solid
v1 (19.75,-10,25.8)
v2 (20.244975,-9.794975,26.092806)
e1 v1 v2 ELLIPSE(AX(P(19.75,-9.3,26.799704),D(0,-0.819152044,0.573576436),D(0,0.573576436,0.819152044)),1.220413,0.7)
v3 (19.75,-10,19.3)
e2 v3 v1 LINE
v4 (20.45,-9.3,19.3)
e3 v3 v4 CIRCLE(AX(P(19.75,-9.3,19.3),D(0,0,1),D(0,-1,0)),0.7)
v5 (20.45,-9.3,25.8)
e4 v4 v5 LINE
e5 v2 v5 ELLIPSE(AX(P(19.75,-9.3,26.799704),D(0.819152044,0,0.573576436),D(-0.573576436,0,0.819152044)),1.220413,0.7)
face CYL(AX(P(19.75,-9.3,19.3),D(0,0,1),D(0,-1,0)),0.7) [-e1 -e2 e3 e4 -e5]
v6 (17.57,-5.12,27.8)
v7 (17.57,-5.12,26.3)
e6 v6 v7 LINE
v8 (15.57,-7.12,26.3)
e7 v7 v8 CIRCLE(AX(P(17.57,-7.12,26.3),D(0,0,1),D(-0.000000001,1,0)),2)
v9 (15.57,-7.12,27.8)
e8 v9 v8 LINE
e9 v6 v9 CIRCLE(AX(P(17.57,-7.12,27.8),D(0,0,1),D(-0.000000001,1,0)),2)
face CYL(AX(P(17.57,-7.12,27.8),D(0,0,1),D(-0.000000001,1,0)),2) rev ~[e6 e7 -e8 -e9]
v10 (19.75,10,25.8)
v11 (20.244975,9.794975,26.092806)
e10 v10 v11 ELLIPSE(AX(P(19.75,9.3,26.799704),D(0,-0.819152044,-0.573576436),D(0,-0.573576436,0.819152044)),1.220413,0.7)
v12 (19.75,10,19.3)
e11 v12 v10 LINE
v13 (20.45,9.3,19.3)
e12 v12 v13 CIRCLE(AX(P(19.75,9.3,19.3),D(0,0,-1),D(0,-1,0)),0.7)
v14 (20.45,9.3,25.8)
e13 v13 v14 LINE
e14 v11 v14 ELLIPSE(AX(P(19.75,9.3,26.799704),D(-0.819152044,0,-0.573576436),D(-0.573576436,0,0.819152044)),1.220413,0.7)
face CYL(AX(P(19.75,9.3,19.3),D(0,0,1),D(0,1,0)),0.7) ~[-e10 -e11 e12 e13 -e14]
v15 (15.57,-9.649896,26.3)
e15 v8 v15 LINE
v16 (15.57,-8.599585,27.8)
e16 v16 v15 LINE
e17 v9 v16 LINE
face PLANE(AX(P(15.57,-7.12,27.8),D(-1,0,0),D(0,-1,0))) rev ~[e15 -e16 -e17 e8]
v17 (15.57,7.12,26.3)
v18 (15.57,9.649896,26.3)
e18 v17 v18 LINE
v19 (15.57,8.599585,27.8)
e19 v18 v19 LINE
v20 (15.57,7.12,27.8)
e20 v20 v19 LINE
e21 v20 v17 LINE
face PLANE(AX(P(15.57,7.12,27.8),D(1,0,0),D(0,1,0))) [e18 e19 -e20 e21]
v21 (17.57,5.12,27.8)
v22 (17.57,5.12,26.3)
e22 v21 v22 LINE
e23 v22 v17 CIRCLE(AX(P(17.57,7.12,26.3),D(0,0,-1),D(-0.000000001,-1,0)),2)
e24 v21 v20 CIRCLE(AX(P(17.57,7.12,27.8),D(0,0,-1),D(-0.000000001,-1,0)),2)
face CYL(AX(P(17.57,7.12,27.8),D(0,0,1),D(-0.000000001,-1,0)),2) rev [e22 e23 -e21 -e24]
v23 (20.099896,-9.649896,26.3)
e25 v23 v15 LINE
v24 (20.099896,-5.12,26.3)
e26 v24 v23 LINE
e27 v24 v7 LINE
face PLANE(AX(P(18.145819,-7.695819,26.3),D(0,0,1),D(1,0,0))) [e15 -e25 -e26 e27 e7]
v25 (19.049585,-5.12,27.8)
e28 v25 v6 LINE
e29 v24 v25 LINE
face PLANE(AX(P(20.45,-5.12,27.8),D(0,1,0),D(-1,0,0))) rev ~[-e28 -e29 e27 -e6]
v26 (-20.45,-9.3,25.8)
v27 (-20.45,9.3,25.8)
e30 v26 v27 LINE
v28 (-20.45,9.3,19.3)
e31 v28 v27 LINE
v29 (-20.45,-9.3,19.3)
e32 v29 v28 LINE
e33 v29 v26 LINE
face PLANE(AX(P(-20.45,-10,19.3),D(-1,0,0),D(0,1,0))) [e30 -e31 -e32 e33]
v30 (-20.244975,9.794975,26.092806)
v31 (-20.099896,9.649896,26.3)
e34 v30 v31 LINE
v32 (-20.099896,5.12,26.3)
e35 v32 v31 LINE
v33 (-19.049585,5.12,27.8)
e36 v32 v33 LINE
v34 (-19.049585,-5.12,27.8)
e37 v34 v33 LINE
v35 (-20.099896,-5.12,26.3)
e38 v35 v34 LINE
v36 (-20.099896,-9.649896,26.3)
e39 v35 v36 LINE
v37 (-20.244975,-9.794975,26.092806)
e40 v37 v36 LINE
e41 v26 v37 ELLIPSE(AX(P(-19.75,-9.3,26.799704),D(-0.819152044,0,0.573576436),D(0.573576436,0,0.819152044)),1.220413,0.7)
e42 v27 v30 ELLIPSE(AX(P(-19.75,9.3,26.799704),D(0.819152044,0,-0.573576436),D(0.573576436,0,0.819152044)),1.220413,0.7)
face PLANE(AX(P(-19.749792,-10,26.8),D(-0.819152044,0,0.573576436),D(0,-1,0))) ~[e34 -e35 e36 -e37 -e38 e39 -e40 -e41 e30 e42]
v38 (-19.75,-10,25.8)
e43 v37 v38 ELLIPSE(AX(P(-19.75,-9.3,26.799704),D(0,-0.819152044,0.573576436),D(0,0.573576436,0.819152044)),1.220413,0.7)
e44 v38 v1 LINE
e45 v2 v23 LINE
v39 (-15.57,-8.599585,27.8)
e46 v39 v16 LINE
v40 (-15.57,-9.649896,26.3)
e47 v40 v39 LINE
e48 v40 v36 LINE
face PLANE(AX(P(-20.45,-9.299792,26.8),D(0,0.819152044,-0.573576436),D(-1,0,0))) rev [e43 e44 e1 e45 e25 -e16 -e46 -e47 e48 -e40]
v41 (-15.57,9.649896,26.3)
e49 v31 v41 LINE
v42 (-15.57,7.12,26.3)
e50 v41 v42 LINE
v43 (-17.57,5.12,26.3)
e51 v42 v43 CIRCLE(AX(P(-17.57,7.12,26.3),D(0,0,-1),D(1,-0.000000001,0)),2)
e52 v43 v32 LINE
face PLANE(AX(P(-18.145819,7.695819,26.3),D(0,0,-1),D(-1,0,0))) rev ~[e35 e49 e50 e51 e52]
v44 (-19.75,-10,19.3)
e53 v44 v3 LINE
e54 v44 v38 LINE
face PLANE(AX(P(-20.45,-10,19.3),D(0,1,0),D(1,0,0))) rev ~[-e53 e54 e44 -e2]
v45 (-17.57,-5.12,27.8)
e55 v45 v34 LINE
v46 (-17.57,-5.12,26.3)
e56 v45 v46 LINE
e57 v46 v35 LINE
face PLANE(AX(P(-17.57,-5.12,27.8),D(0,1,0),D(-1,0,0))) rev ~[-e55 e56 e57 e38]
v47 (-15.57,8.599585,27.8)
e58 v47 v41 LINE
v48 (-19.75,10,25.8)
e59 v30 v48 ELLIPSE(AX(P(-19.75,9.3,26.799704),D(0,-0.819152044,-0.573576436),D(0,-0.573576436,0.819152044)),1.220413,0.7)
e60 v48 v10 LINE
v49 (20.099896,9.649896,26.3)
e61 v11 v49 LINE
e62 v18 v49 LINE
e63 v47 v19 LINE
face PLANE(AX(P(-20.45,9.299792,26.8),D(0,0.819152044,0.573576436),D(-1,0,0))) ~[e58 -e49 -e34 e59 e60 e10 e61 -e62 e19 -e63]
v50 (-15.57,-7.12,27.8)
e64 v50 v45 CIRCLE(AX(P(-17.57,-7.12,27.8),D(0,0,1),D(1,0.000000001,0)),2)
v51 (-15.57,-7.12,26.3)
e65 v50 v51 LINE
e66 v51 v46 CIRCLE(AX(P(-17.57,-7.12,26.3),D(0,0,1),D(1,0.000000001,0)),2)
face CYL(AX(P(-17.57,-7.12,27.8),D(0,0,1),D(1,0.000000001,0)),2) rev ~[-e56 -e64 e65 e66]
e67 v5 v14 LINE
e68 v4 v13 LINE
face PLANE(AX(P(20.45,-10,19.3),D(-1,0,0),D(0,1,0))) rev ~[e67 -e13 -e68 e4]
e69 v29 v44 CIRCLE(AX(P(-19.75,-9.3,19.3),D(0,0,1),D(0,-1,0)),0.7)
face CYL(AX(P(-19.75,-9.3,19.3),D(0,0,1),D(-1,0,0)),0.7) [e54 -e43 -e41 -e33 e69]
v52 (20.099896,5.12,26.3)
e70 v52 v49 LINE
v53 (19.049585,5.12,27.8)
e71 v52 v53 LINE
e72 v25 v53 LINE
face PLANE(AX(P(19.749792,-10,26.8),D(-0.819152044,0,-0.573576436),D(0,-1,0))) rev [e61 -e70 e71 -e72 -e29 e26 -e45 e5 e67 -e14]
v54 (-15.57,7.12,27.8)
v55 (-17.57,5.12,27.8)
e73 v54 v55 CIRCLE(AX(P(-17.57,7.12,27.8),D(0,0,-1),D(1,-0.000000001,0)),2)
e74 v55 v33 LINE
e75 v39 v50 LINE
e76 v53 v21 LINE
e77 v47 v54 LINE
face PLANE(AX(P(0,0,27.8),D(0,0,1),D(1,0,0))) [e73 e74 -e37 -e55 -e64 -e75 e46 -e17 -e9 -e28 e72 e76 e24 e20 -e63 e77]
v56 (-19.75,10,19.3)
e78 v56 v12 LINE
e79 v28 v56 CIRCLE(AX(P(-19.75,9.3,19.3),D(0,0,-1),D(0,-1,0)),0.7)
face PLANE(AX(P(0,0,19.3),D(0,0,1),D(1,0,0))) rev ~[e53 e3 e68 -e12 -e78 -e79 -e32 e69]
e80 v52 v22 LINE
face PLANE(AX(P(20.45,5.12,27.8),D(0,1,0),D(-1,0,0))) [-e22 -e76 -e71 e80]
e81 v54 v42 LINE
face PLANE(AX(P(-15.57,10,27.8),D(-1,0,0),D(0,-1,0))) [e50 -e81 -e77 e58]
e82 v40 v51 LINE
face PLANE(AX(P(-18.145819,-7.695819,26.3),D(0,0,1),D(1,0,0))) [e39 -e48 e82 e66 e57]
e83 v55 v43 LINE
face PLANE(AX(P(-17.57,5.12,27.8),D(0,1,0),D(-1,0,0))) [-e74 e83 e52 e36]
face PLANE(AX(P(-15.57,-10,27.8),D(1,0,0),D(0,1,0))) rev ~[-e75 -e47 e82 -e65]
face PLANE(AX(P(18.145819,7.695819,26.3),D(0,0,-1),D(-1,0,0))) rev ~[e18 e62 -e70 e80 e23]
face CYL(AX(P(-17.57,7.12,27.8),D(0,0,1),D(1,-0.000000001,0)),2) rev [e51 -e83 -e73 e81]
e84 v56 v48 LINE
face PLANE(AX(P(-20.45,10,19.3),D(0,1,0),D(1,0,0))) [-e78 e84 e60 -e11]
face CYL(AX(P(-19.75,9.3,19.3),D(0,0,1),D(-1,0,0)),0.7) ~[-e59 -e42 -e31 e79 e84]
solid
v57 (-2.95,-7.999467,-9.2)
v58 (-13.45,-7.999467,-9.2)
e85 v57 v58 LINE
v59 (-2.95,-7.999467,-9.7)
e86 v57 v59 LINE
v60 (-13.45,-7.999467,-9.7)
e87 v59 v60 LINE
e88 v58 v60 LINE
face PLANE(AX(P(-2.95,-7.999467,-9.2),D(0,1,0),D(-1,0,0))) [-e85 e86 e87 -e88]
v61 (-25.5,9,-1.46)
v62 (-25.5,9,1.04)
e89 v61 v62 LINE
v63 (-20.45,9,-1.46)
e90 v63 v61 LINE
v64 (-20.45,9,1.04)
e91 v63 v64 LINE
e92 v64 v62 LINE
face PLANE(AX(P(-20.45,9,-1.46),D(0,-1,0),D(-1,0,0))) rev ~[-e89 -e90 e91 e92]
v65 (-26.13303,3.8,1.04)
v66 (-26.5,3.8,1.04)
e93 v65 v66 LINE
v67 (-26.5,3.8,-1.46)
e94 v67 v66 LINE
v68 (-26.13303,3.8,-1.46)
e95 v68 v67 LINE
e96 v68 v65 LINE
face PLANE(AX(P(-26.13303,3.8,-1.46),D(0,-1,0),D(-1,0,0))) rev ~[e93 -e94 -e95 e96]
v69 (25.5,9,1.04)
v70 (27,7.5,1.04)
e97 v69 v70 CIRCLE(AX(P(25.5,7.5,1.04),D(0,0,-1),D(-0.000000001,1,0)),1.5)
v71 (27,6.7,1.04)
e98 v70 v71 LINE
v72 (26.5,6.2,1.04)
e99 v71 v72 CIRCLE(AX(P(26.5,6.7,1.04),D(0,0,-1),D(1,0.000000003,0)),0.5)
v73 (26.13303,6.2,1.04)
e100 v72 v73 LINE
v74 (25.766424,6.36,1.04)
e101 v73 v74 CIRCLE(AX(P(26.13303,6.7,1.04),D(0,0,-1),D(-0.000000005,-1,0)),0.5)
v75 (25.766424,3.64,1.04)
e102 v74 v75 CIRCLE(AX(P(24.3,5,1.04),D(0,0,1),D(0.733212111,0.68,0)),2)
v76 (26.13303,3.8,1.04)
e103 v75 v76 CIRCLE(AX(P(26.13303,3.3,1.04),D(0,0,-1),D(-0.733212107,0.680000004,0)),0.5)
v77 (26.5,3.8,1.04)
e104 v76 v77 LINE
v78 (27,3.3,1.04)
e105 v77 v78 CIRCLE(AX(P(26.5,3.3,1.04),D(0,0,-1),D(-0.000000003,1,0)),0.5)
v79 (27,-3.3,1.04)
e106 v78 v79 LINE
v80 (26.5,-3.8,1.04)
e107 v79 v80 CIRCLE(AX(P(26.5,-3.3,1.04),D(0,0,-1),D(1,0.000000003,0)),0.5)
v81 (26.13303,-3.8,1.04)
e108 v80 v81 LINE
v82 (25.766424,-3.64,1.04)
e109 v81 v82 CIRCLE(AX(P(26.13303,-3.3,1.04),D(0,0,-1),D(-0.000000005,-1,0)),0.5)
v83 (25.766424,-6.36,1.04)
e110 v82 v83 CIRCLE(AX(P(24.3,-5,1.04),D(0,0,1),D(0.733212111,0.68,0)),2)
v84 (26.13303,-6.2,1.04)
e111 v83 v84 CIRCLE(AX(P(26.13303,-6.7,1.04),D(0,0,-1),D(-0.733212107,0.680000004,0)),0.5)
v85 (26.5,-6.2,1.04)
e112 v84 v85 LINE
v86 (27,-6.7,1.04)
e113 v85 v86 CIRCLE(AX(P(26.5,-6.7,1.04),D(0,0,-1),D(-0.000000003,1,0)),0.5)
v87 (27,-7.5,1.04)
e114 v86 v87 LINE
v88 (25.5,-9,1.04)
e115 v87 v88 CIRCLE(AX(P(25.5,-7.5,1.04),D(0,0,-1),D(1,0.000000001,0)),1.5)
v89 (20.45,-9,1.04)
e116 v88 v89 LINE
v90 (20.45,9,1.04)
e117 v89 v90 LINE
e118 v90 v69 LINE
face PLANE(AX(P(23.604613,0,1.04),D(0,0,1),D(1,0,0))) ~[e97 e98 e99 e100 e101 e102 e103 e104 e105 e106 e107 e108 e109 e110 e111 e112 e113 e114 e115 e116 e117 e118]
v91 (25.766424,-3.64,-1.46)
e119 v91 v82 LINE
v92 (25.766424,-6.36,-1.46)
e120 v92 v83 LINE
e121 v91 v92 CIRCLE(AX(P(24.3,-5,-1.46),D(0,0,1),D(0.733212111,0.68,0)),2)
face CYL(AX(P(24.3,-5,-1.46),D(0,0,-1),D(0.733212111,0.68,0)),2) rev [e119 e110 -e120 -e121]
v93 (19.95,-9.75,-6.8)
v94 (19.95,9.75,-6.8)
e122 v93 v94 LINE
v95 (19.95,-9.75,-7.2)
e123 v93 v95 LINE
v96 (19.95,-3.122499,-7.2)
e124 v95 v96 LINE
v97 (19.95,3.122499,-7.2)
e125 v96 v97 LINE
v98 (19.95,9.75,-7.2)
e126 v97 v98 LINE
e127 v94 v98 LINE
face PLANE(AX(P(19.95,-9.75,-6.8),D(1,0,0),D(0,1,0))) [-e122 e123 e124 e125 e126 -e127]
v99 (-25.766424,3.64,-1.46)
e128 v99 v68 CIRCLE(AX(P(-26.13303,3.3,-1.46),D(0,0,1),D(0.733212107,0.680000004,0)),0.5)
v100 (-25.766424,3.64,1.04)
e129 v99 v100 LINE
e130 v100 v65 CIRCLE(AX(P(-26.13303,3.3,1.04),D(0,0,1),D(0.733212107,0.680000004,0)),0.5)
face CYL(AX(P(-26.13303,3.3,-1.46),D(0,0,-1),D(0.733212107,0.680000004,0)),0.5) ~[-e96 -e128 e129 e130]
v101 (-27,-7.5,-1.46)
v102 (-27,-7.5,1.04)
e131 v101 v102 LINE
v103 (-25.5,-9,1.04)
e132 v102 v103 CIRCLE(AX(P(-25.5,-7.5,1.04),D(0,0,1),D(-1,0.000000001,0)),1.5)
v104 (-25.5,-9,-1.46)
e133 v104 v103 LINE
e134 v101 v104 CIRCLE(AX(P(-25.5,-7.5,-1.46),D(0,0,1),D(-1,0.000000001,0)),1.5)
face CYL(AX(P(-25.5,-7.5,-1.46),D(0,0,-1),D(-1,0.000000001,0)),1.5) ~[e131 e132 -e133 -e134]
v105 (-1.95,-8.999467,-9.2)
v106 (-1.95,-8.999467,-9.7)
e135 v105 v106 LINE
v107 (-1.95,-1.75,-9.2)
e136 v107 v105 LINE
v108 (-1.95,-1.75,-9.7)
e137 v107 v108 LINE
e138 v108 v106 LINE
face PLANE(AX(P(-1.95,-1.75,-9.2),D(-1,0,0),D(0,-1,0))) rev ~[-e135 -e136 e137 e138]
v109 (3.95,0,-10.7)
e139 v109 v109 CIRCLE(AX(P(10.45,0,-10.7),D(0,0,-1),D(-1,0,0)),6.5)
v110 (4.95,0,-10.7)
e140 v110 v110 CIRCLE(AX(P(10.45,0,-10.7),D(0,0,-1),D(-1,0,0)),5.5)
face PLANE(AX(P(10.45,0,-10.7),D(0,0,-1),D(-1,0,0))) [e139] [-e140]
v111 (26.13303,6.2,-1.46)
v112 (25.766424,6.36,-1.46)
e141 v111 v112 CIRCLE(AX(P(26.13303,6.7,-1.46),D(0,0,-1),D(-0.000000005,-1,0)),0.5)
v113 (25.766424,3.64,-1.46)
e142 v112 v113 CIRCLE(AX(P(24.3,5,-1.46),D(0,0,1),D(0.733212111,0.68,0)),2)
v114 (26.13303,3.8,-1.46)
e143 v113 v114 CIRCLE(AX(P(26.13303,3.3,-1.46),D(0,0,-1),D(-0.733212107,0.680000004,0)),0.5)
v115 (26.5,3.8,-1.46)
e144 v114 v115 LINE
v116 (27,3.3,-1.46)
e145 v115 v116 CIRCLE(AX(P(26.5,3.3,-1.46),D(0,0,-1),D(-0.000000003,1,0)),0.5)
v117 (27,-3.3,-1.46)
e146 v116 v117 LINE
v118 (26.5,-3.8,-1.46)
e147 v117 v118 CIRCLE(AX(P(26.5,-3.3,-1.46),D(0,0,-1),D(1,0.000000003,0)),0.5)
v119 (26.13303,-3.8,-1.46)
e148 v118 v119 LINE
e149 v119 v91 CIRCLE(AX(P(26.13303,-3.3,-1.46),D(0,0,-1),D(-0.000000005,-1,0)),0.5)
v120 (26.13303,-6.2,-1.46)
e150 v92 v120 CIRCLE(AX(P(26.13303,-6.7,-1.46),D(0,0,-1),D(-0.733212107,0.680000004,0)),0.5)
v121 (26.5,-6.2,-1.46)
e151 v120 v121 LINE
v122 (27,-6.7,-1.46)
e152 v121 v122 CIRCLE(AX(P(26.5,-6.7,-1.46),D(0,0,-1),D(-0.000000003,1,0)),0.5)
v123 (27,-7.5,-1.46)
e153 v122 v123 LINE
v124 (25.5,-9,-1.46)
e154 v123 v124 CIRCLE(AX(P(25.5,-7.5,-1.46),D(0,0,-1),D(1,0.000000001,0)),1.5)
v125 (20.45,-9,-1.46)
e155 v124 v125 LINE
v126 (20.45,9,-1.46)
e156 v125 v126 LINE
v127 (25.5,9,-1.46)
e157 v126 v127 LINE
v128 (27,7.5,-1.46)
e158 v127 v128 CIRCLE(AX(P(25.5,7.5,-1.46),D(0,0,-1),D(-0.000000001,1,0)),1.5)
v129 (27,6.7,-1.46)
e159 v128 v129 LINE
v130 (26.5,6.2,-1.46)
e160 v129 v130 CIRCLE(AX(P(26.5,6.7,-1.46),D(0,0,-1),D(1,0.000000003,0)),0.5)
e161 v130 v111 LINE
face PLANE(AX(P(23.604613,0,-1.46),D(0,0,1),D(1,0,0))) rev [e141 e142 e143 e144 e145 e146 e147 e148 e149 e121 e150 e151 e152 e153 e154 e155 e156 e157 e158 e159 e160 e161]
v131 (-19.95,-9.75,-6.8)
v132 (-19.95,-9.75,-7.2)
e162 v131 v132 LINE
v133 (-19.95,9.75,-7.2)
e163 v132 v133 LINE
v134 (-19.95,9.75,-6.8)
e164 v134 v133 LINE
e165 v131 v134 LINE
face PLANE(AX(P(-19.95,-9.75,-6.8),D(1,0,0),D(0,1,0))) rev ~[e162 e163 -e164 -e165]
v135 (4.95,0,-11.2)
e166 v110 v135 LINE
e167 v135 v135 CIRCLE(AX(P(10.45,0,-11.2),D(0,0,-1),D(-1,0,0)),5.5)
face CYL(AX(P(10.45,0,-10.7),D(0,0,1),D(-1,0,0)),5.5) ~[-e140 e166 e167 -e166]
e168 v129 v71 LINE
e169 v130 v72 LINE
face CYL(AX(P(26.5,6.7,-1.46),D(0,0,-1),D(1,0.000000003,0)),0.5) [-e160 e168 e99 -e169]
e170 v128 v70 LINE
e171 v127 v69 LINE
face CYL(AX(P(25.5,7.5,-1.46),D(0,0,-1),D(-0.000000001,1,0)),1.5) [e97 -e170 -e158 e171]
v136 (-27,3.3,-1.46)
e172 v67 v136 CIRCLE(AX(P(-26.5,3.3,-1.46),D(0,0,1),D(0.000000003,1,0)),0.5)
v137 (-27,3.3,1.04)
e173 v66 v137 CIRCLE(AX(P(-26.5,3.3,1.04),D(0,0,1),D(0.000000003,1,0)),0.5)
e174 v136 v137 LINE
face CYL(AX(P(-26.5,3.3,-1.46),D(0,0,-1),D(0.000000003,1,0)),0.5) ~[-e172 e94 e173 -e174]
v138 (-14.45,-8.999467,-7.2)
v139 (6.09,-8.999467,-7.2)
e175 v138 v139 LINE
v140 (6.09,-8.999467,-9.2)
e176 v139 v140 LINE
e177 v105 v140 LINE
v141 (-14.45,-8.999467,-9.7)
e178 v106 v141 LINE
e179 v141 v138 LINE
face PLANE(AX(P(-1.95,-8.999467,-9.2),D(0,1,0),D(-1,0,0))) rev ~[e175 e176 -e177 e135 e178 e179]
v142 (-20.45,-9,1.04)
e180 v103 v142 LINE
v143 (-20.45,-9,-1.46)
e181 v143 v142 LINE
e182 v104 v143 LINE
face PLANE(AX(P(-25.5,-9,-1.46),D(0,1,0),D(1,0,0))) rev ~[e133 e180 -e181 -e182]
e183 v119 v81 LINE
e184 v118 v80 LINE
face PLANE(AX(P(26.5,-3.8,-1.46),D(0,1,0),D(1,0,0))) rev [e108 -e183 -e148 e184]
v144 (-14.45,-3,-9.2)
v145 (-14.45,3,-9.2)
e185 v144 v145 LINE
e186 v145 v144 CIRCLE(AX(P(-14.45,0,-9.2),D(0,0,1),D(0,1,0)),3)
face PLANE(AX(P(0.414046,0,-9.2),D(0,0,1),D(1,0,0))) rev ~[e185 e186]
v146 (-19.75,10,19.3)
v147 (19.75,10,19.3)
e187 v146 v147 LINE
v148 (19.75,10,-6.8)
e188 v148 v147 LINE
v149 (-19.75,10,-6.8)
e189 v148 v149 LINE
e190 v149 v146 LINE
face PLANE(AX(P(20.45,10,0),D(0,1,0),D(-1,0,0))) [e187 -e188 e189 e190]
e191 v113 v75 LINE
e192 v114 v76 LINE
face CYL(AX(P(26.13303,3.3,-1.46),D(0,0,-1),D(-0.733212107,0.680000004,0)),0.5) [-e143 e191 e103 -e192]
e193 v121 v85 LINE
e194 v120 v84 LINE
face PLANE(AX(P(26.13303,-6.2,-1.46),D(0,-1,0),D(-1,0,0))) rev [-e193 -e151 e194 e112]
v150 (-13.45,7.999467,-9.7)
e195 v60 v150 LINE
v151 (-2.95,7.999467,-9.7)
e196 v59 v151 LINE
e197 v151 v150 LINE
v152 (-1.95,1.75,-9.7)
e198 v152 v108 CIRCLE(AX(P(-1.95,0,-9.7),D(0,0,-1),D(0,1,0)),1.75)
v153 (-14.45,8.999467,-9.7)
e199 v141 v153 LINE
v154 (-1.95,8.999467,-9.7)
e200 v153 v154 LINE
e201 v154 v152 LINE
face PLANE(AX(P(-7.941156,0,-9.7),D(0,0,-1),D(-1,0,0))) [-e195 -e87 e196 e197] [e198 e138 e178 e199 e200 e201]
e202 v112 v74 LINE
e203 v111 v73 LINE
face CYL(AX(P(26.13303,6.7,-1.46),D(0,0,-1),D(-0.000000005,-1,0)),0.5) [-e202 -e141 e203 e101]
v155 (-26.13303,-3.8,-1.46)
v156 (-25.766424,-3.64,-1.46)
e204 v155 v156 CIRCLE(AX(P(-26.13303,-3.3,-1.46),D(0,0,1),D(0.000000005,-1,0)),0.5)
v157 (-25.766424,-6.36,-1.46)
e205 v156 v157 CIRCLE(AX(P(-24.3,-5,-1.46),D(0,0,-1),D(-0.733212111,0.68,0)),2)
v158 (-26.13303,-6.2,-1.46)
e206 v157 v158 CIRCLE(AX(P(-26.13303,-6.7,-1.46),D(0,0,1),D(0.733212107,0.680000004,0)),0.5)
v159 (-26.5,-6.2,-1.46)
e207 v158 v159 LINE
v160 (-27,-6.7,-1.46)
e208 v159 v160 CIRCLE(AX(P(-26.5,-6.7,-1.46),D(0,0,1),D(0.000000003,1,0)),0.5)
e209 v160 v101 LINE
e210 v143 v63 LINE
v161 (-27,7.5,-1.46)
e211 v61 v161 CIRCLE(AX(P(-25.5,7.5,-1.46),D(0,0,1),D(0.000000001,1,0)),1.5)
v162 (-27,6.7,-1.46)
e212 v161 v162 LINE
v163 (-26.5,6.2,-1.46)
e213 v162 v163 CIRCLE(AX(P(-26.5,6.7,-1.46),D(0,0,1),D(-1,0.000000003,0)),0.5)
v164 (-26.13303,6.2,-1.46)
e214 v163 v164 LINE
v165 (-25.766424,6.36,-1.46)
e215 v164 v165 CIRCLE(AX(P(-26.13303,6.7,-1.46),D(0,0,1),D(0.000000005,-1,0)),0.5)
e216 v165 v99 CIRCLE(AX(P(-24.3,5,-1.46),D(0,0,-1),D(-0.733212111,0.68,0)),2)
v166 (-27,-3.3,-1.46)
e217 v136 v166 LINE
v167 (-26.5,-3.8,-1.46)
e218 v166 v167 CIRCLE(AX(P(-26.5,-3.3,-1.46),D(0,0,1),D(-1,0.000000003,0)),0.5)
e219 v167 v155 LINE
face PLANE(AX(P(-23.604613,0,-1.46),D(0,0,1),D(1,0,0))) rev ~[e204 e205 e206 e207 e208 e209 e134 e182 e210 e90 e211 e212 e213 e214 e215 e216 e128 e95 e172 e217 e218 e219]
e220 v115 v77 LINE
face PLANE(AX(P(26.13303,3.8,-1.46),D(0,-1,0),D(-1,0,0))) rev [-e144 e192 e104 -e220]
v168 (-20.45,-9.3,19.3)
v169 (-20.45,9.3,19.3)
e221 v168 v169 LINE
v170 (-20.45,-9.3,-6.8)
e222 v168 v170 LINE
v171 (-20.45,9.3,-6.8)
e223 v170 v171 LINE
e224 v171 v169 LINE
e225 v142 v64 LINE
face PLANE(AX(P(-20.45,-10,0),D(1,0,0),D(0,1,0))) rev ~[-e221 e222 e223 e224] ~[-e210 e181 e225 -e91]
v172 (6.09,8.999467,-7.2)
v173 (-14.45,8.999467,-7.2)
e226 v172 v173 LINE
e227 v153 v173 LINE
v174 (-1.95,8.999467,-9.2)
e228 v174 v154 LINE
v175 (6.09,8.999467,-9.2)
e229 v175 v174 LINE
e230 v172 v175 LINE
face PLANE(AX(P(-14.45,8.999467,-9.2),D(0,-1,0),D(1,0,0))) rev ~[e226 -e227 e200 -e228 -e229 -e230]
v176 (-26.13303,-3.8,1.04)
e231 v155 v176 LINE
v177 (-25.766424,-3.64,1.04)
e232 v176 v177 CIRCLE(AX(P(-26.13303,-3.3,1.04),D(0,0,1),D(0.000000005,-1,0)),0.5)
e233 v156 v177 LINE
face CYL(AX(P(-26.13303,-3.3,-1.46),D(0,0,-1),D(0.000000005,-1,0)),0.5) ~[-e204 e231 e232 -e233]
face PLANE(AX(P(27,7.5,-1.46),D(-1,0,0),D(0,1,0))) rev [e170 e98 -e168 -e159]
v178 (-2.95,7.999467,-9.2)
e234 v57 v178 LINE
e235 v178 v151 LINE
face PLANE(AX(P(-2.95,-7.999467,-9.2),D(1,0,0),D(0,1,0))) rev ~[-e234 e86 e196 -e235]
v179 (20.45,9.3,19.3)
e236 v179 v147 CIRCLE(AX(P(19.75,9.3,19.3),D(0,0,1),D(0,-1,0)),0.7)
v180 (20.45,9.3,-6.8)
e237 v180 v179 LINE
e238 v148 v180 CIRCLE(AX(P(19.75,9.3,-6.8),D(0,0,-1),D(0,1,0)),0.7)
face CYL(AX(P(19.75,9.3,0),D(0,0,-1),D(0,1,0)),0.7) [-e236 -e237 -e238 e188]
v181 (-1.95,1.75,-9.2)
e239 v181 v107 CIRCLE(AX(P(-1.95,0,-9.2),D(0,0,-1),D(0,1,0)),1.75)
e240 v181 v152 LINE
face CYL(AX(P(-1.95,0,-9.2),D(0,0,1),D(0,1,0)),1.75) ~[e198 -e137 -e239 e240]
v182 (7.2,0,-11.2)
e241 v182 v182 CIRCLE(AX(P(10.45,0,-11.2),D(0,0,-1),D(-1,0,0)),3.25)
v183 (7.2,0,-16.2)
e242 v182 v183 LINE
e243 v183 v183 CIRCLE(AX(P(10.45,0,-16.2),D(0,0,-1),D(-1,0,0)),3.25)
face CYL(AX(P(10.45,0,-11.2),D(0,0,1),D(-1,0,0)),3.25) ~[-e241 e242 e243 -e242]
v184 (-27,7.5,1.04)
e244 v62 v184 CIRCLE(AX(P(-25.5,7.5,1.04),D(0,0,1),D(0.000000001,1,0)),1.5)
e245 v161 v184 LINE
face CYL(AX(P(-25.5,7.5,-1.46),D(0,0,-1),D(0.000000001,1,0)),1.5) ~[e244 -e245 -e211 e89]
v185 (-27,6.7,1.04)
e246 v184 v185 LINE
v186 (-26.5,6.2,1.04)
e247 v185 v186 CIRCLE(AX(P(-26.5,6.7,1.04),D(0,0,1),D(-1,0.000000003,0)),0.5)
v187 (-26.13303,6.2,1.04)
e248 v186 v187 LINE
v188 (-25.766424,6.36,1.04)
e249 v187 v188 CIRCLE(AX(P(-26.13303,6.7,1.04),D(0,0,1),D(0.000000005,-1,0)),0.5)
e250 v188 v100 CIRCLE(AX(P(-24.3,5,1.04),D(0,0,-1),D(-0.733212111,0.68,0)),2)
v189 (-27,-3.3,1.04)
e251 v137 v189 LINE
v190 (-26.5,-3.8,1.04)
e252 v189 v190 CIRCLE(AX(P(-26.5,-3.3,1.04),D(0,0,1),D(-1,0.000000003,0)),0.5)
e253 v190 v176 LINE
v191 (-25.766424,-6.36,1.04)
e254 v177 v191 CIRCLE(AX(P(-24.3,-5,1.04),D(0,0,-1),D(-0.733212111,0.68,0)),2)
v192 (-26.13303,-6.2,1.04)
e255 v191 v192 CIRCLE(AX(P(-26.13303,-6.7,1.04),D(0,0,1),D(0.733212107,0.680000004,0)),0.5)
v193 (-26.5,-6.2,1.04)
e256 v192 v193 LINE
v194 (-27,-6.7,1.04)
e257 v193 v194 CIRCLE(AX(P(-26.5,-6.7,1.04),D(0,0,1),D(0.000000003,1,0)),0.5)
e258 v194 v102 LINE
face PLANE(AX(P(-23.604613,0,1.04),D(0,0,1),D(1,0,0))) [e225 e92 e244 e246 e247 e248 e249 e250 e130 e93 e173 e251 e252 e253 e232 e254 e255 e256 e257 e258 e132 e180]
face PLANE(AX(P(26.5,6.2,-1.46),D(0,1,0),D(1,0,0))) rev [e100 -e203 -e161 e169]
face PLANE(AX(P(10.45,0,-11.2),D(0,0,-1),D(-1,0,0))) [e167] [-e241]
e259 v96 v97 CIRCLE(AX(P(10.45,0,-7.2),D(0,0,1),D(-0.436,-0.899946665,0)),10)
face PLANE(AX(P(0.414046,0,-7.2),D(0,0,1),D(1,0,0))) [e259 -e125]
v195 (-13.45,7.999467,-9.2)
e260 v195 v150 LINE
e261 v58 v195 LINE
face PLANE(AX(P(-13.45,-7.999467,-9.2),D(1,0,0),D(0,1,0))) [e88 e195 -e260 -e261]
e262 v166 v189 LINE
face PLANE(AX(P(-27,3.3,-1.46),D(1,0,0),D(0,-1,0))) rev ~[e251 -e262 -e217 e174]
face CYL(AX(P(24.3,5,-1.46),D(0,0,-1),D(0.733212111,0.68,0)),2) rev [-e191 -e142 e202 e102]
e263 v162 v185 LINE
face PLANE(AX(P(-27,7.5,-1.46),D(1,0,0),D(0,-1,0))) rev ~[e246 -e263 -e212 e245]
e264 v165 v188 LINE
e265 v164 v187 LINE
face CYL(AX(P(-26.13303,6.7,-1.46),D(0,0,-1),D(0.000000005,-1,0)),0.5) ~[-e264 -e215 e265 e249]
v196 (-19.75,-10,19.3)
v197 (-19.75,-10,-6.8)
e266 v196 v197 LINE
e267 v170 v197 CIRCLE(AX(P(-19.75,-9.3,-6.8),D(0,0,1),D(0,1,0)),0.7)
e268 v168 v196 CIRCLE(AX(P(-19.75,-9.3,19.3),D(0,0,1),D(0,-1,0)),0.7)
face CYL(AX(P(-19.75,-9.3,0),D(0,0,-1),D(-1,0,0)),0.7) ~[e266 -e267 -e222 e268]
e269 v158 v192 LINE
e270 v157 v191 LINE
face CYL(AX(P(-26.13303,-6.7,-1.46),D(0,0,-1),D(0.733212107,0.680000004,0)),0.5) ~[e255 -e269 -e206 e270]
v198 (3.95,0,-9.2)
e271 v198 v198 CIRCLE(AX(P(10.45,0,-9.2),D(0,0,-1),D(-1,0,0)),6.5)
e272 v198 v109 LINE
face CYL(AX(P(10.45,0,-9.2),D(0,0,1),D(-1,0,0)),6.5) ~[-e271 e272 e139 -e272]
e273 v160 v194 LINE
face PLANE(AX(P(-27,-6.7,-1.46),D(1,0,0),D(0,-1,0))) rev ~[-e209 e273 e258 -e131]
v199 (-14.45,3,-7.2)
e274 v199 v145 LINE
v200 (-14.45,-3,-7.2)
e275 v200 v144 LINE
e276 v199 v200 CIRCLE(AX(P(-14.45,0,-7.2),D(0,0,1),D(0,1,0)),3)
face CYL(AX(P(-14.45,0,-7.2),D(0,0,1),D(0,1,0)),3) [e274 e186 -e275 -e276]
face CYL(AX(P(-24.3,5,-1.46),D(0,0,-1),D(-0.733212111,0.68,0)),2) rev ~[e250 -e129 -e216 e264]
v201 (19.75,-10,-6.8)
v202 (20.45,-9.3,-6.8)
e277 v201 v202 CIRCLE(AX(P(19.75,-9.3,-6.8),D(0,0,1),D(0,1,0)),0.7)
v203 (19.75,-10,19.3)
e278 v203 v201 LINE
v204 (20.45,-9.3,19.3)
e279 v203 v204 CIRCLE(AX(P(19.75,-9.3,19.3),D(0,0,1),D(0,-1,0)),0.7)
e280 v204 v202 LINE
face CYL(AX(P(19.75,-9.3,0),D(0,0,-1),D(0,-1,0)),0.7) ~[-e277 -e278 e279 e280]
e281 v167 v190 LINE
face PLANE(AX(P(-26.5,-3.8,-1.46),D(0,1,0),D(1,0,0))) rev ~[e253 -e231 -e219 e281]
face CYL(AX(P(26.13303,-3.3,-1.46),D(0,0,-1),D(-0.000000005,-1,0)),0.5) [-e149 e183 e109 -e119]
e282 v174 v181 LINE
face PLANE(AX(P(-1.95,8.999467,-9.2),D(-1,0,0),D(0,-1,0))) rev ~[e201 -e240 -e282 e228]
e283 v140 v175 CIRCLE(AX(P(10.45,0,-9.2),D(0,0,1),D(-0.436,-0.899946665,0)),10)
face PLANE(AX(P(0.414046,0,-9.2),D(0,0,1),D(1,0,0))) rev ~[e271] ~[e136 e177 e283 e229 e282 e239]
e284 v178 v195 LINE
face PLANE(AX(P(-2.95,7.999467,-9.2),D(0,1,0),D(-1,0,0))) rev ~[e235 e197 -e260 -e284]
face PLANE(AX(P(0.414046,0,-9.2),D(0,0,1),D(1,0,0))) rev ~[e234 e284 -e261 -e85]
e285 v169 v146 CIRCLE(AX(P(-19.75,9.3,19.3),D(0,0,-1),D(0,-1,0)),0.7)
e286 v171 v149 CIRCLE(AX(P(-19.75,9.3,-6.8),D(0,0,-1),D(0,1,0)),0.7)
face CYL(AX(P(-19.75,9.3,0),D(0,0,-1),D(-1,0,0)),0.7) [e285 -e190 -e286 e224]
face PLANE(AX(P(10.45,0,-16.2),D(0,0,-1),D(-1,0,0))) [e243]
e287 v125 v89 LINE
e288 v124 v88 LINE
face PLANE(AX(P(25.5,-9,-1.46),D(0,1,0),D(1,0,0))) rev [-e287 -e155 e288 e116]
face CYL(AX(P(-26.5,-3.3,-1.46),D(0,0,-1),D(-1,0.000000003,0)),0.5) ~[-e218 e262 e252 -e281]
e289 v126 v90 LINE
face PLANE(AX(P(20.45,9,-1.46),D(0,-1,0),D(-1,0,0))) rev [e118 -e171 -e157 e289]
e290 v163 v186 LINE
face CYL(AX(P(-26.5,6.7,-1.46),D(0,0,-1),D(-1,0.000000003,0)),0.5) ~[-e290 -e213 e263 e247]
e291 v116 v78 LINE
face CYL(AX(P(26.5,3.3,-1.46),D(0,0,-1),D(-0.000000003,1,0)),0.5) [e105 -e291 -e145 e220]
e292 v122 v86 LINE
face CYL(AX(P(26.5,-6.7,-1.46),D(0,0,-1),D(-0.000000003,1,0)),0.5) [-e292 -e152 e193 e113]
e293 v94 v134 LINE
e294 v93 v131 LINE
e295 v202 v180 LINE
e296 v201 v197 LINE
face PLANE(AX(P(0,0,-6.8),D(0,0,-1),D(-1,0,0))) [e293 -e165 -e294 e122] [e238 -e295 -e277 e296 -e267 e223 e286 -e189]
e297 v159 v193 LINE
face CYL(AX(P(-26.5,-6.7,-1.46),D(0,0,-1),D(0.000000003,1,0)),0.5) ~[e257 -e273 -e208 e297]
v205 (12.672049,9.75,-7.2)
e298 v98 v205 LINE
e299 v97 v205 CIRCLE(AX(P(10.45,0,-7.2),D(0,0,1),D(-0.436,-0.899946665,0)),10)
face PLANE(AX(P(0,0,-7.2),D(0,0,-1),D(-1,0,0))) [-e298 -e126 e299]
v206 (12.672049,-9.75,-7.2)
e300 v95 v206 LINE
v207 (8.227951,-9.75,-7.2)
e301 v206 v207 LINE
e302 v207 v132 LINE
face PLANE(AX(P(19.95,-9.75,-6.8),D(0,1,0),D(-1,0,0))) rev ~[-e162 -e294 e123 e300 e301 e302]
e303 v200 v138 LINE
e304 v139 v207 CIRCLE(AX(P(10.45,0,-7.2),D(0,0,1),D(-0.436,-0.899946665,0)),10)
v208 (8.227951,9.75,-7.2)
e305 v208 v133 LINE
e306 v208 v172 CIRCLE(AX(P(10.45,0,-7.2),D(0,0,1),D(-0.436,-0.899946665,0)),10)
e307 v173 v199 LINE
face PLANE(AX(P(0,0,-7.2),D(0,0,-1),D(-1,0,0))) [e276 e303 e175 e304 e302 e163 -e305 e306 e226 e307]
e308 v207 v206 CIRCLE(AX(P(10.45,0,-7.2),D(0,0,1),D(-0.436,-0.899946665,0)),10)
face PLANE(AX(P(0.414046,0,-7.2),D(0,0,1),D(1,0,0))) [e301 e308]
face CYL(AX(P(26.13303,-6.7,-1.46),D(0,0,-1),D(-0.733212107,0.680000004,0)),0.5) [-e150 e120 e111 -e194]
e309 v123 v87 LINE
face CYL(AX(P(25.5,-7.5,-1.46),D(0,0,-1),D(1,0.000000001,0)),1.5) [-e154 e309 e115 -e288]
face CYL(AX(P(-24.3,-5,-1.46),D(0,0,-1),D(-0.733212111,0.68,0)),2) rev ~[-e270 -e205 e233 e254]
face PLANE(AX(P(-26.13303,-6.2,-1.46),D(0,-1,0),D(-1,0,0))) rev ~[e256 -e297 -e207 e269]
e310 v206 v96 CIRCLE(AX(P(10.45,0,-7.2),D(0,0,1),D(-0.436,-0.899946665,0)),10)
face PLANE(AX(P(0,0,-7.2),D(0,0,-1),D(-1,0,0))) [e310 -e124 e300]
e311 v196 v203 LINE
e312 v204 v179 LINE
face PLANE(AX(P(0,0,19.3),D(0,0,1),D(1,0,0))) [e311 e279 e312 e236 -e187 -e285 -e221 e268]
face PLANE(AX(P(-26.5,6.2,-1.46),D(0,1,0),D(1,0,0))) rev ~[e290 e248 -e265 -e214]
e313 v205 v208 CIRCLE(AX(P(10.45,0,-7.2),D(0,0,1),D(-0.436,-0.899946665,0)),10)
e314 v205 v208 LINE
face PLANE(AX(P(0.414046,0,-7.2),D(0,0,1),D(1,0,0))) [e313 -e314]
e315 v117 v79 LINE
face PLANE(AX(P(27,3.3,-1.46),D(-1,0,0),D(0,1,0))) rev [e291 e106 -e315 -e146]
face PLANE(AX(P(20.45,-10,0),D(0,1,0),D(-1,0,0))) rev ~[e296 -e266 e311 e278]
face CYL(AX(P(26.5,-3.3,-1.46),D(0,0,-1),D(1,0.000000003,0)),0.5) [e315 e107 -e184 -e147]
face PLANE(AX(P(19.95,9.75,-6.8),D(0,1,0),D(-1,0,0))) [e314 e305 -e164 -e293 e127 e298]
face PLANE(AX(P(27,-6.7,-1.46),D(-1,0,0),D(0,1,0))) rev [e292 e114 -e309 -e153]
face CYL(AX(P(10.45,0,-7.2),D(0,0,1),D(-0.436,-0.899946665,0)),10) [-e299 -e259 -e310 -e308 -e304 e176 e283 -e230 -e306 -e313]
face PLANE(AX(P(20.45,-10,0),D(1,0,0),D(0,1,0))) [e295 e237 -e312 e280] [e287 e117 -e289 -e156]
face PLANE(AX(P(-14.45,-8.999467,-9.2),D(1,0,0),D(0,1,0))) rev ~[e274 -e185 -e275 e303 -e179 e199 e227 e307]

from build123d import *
from OCP.BRepFilletAPI import BRepFilletAPI_MakeChamfer

# Parameters (mm, degrees)
SKETCH1_W            = 40.9
SKETCH1_H            = 20
BOSS_EXTRUDE3_DEPTH  = 19.3
SKETCH4_W            = 40.9
SKETCH4_H            = 20
BOSS_EXTRUDE4_DEPTH  = 6.8
SKETCH6_W            = 40.9
SKETCH6_H            = 20
BOSS_EXTRUDE6_DEPTH  = 8.5
CHAMFER1_SIZE        = 2
CHAMFER1_SIZE2       = 1.400415076
CUT_EXTRUDE1_DEPTH   = 1.5
SKETCH8_W            = 39.9
SKETCH8_H            = 19.5
BOSS_EXTRUDE7_DEPTH  = 0.4
BOSS_EXTRUDE8_DEPTH  = 2
SKETCH10_R           = 6.5
BOSS_EXTRUDE9_DEPTH  = 1.5
SKETCH11_R           = 5.5
BOSS_EXTRUDE10_DEPTH = 0.5
SKETCH12_R           = 3.25
BOSS_EXTRUDE11_DEPTH = 5
SKETCH13_W           = 10.5
SKETCH13_H           = 15.998933302
BOSS_EXTRUDE12_DEPTH = 0.5
FILLET1_R            = 0.7
FILLET6_R            = 0.7
FILLET7_R            = 0.7
BOSS_EXTRUDE13_START = -5.74
BOSS_EXTRUDE13_DEPTH = 2.5


with BuildPart() as part:
    # Sketch1 → Boss-Extrude3 (new body)
    with BuildSketch(Plane.XY):
        Rectangle(SKETCH1_W, SKETCH1_H)
    extrude(amount=BOSS_EXTRUDE3_DEPTH)

    # Fillet1
    fillet1_edges = [part.edges().sort_by_distance(p)[0] for p in [
        (20.45, -10, 9.65),
        (-20.45, -10, 9.65),
        (-20.45, 10, 9.65),
        (20.45, 10, 9.65),
    ]]
    fillet(fillet1_edges, radius=FILLET1_R)



with BuildPart() as body_2:
    # Sketch4 → Boss-Extrude4 (new body)
    with BuildSketch(Plane(origin=(0, 0, 0), x_dir=(-1, 0, 0), z_dir=(0, 0, -1))):
        Rectangle(SKETCH4_W, SKETCH4_H)
    extrude(amount=BOSS_EXTRUDE4_DEPTH)

    # Sketch8 → Boss-Extrude7 (add)
    with BuildSketch(Plane(origin=(0, 0, -6.8), x_dir=(-1, 0, 0), z_dir=(0, 0, -1))):
        Rectangle(SKETCH8_W, SKETCH8_H)
    extrude(amount=BOSS_EXTRUDE7_DEPTH)

    # Sketch9 → Boss-Extrude8 (add)
    with BuildSketch(Plane(origin=(0, 0, -7.2), x_dir=(-1, 0, 0), z_dir=(0, 0, -1))):
        with BuildLine():
            Line((-6.09, 8.999466651), (14.45, 8.999466651))
            Line((14.45, 8.999466651), (14.45, 3))
            ThreePointArc((14.45, 3), (17.45, 0), (14.45, -3))
            Line((14.45, -3), (14.45, -8.999466651))
            Line((14.45, -8.999466651), (-6.09, -8.999466651))
            ThreePointArc((-6.09, -8.999466651), (-20.45, 0), (-6.09, 8.999466651))
        make_face()
    extrude(amount=BOSS_EXTRUDE8_DEPTH)

    # Sketch10 → Boss-Extrude9 (add)
    with BuildSketch(Plane(origin=(0, 0, -9.2), x_dir=(-1, 0, 0), z_dir=(0, 0, -1))):
        with Locations((-10.45, 0)):
            Circle(SKETCH10_R)
    extrude(amount=BOSS_EXTRUDE9_DEPTH)

    # Sketch11 → Boss-Extrude10 (add)
    with BuildSketch(Plane(origin=(0, 0, -10.7), x_dir=(-1, 0, 0), z_dir=(0, 0, -1))):
        with Locations((-10.45, 0)):
            Circle(SKETCH11_R)
    extrude(amount=BOSS_EXTRUDE10_DEPTH)

    # Sketch12 → Boss-Extrude11 (add)
    with BuildSketch(Plane(origin=(0, 0, -11.2), x_dir=(-1, 0, 0), z_dir=(0, 0, -1))):
        with Locations((-10.45, 0)):
            Circle(SKETCH12_R)
    extrude(amount=BOSS_EXTRUDE11_DEPTH)

    # Sketch13 → Boss-Extrude12 (add)
    with BuildSketch(Plane(origin=(0, 0, -9.2), x_dir=(-1, 0, 0), z_dir=(0, 0, -1))):
        with BuildLine():
            Line((14.45, 8.999466651), (1.95, 8.999466651))
            Line((1.95, 8.999466651), (1.95, 1.75))
            ThreePointArc((1.95, 1.75), (0.2, 0), (1.95, -1.75))
            Line((1.95, -1.75), (1.95, -8.999466651))
            Line((1.95, -8.999466651), (14.45, -8.999466651))
            Line((14.45, -8.999466651), (14.45, 8.999466651))
        make_face()
        with Locations((8.2, 0)):
            Rectangle(SKETCH13_W, SKETCH13_H, mode=Mode.SUBTRACT)
    extrude(amount=BOSS_EXTRUDE12_DEPTH)

    # Fillet6
    fillet6_edges = [body_2.edges().sort_by_distance(p)[0] for p in [
        (-20.45, 10, -3.4),
        (-20.45, -10, -3.4),
        (20.45, -10, -3.4),
        (20.45, 10, -3.4),
    ]]
    fillet(fillet6_edges, radius=FILLET6_R)


with BuildPart() as body_3:
    # Sketch6 → Boss-Extrude6 (new body)
    with BuildSketch(Plane.XY.offset(19.3)):
        Rectangle(SKETCH6_W, SKETCH6_H)
    extrude(amount=BOSS_EXTRUDE6_DEPTH)

    # Chamfer1: one chamfer whose edges measure the first distance from different faces: ONE call of the kernel's chamfer builder (chamfer() names one face for all edges)
    chamfer1_edges_1 = [body_3.edges().sort_by_distance(p)[0] for p in [
        (0, 10, 27.8),
    ]]
    chamfer1_side_1 = [body_3.faces().sort_by_distance(p)[0] for p in [
        (0, 10, 23.55),
    ]]
    chamfer1_edges_2 = [body_3.edges().sort_by_distance(p)[0] for p in [
        (-20.45, 0, 27.8),
    ]]
    chamfer1_side_2 = [body_3.faces().sort_by_distance(p)[0] for p in [
        (-20.45, 0, 23.55),
    ]]
    chamfer1_edges_3 = [body_3.edges().sort_by_distance(p)[0] for p in [
        (0, -10, 27.8),
    ]]
    chamfer1_side_3 = [body_3.faces().sort_by_distance(p)[0] for p in [
        (0, -10, 23.55),
    ]]
    chamfer1_edges_4 = [body_3.edges().sort_by_distance(p)[0] for p in [
        (20.45, 0, 27.8),
    ]]
    chamfer1_side_4 = [body_3.faces().sort_by_distance(p)[0] for p in [
        (20.45, 0, 23.55),
    ]]
    chamfer1 = BRepFilletAPI_MakeChamfer(body_3.part.solid().wrapped)
    for e in chamfer1_edges_1:
        chamfer1.Add(CHAMFER1_SIZE, CHAMFER1_SIZE2, e.wrapped, chamfer1_side_1[0].wrapped)  # the first distance lies on this face
    for e in chamfer1_edges_2:
        chamfer1.Add(CHAMFER1_SIZE, CHAMFER1_SIZE2, e.wrapped, chamfer1_side_2[0].wrapped)  # the first distance lies on this face
    for e in chamfer1_edges_3:
        chamfer1.Add(CHAMFER1_SIZE, CHAMFER1_SIZE2, e.wrapped, chamfer1_side_3[0].wrapped)  # the first distance lies on this face
    for e in chamfer1_edges_4:
        chamfer1.Add(CHAMFER1_SIZE, CHAMFER1_SIZE2, e.wrapped, chamfer1_side_4[0].wrapped)  # the first distance lies on this face
    add(Compound.cast(chamfer1.Shape()), mode=Mode.REPLACE)

    # Sketch7 → Cut-Extrude1 (cut)
    with BuildSketch(Plane.XY.offset(27.8)):
        with BuildLine():
            Line((-20.45, 10), (-15.57, 10))
            Line((-15.57, 10), (-15.57, 7.12))
            ThreePointArc((-15.57, 7.12), (-16.155786438, 5.705786438), (-17.57, 5.12))
            Line((-17.57, 5.12), (-20.45, 5.12))
            Line((-20.45, 5.12), (-20.45, 10))
        make_face()
        with BuildLine():
            Line((20.45, 5.12), (17.57, 5.12))
            ThreePointArc((17.57, 5.12), (16.155786438, 5.705786438), (15.57, 7.12))
            Line((15.57, 7.12), (15.57, 10))
            Line((15.57, 10), (20.45, 10))
            Line((20.45, 10), (20.45, 5.12))
        make_face()
        with BuildLine():
            Line((20.45, -10), (20.45, -5.12))
            Line((20.45, -5.12), (17.57, -5.12))
            ThreePointArc((17.57, -5.12), (16.155786438, -5.705786438), (15.57, -7.12))
            Line((15.57, -7.12), (15.57, -10))
            Line((15.57, -10), (20.45, -10))
        make_face()
        with BuildLine():
            Line((-15.57, -10), (-15.57, -7.12))
            ThreePointArc((-15.57, -7.12), (-16.155786438, -5.705786438), (-17.57, -5.12))
            Line((-17.57, -5.12), (-20.45, -5.12))
            Line((-20.45, -5.12), (-20.45, -10))
            Line((-20.45, -10), (-15.57, -10))
        make_face()
    extrude(amount=-CUT_EXTRUDE1_DEPTH, mode=Mode.SUBTRACT)

    # Fillet7
    fillet7_edges = [body_3.edges().sort_by_distance(p)[0] for p in [
        (-20.45, -10, 22.55),
        (-20.45, 10, 22.55),
        (20.45, 10, 22.55),
        (20.45, -10, 22.55),
    ]]
    fillet(fillet7_edges, radius=FILLET7_R)


with BuildPart() as part_1:
    add(part.part)

    add(body_2.part)  # Boss-Extrude13 merges body 2
    # Sketch16 → Boss-Extrude13 (add)
    with BuildSketch(Plane(origin=(0, 0, -7.2), x_dir=(-1, 0, 0), z_dir=(0, 0, -1)).offset(BOSS_EXTRUDE13_START)):
        with BuildLine():
            Line((20.45, 9), (25.5, 9))
            ThreePointArc((25.5, 9), (26.560660172, 8.560660172), (27, 7.5))
            Line((27, 7.5), (27, 6.7))
            ThreePointArc((27, 6.7), (26.853553391, 6.346446609), (26.5, 6.2))
            Line((26.5, 6.2), (26.133030278, 6.2))
            ThreePointArc((26.133030278, 6.2), (25.933030278, 6.241742431), (25.766424222, 6.36))
            ThreePointArc((25.766424222, 6.36), (22.3, 5), (25.766424222, 3.64))
            ThreePointArc((25.766424222, 3.64), (25.933030278, 3.758257569), (26.133030278, 3.8))
            Line((26.133030278, 3.8), (26.5, 3.8))
            ThreePointArc((26.5, 3.8), (26.853553391, 3.653553391), (27, 3.3))
            Line((27, 3.3), (27, -3.3))
            ThreePointArc((27, -3.3), (26.853553391, -3.653553391), (26.5, -3.8))
            Line((26.5, -3.8), (26.133030278, -3.8))
            ThreePointArc((26.133030278, -3.8), (25.933030278, -3.758257569), (25.766424222, -3.64))
            ThreePointArc((25.766424222, -3.64), (22.3, -5), (25.766424222, -6.36))
            ThreePointArc((25.766424222, -6.36), (25.933030278, -6.241742431), (26.133030278, -6.2))
            Line((26.133030278, -6.2), (26.5, -6.2))
            ThreePointArc((26.5, -6.2), (26.853553391, -6.346446609), (27, -6.7))
            Line((27, -6.7), (27, -7.5))
            ThreePointArc((27, -7.5), (26.560660172, -8.560660172), (25.5, -9))
            Line((25.5, -9), (20.45, -9))
            Line((20.45, -9), (20.45, 9))
        make_face()
    boss_extrude13 = extrude(amount=-BOSS_EXTRUDE13_DEPTH)

    # Mirror1: Boss-Extrude13 across plane
    add(boss_extrude13.mirror(Plane(origin=(0, 0, 0), x_dir=(0, 0, 1), z_dir=(1, 0, 0))))


solid = Compound([body_3.part, part_1.part])
